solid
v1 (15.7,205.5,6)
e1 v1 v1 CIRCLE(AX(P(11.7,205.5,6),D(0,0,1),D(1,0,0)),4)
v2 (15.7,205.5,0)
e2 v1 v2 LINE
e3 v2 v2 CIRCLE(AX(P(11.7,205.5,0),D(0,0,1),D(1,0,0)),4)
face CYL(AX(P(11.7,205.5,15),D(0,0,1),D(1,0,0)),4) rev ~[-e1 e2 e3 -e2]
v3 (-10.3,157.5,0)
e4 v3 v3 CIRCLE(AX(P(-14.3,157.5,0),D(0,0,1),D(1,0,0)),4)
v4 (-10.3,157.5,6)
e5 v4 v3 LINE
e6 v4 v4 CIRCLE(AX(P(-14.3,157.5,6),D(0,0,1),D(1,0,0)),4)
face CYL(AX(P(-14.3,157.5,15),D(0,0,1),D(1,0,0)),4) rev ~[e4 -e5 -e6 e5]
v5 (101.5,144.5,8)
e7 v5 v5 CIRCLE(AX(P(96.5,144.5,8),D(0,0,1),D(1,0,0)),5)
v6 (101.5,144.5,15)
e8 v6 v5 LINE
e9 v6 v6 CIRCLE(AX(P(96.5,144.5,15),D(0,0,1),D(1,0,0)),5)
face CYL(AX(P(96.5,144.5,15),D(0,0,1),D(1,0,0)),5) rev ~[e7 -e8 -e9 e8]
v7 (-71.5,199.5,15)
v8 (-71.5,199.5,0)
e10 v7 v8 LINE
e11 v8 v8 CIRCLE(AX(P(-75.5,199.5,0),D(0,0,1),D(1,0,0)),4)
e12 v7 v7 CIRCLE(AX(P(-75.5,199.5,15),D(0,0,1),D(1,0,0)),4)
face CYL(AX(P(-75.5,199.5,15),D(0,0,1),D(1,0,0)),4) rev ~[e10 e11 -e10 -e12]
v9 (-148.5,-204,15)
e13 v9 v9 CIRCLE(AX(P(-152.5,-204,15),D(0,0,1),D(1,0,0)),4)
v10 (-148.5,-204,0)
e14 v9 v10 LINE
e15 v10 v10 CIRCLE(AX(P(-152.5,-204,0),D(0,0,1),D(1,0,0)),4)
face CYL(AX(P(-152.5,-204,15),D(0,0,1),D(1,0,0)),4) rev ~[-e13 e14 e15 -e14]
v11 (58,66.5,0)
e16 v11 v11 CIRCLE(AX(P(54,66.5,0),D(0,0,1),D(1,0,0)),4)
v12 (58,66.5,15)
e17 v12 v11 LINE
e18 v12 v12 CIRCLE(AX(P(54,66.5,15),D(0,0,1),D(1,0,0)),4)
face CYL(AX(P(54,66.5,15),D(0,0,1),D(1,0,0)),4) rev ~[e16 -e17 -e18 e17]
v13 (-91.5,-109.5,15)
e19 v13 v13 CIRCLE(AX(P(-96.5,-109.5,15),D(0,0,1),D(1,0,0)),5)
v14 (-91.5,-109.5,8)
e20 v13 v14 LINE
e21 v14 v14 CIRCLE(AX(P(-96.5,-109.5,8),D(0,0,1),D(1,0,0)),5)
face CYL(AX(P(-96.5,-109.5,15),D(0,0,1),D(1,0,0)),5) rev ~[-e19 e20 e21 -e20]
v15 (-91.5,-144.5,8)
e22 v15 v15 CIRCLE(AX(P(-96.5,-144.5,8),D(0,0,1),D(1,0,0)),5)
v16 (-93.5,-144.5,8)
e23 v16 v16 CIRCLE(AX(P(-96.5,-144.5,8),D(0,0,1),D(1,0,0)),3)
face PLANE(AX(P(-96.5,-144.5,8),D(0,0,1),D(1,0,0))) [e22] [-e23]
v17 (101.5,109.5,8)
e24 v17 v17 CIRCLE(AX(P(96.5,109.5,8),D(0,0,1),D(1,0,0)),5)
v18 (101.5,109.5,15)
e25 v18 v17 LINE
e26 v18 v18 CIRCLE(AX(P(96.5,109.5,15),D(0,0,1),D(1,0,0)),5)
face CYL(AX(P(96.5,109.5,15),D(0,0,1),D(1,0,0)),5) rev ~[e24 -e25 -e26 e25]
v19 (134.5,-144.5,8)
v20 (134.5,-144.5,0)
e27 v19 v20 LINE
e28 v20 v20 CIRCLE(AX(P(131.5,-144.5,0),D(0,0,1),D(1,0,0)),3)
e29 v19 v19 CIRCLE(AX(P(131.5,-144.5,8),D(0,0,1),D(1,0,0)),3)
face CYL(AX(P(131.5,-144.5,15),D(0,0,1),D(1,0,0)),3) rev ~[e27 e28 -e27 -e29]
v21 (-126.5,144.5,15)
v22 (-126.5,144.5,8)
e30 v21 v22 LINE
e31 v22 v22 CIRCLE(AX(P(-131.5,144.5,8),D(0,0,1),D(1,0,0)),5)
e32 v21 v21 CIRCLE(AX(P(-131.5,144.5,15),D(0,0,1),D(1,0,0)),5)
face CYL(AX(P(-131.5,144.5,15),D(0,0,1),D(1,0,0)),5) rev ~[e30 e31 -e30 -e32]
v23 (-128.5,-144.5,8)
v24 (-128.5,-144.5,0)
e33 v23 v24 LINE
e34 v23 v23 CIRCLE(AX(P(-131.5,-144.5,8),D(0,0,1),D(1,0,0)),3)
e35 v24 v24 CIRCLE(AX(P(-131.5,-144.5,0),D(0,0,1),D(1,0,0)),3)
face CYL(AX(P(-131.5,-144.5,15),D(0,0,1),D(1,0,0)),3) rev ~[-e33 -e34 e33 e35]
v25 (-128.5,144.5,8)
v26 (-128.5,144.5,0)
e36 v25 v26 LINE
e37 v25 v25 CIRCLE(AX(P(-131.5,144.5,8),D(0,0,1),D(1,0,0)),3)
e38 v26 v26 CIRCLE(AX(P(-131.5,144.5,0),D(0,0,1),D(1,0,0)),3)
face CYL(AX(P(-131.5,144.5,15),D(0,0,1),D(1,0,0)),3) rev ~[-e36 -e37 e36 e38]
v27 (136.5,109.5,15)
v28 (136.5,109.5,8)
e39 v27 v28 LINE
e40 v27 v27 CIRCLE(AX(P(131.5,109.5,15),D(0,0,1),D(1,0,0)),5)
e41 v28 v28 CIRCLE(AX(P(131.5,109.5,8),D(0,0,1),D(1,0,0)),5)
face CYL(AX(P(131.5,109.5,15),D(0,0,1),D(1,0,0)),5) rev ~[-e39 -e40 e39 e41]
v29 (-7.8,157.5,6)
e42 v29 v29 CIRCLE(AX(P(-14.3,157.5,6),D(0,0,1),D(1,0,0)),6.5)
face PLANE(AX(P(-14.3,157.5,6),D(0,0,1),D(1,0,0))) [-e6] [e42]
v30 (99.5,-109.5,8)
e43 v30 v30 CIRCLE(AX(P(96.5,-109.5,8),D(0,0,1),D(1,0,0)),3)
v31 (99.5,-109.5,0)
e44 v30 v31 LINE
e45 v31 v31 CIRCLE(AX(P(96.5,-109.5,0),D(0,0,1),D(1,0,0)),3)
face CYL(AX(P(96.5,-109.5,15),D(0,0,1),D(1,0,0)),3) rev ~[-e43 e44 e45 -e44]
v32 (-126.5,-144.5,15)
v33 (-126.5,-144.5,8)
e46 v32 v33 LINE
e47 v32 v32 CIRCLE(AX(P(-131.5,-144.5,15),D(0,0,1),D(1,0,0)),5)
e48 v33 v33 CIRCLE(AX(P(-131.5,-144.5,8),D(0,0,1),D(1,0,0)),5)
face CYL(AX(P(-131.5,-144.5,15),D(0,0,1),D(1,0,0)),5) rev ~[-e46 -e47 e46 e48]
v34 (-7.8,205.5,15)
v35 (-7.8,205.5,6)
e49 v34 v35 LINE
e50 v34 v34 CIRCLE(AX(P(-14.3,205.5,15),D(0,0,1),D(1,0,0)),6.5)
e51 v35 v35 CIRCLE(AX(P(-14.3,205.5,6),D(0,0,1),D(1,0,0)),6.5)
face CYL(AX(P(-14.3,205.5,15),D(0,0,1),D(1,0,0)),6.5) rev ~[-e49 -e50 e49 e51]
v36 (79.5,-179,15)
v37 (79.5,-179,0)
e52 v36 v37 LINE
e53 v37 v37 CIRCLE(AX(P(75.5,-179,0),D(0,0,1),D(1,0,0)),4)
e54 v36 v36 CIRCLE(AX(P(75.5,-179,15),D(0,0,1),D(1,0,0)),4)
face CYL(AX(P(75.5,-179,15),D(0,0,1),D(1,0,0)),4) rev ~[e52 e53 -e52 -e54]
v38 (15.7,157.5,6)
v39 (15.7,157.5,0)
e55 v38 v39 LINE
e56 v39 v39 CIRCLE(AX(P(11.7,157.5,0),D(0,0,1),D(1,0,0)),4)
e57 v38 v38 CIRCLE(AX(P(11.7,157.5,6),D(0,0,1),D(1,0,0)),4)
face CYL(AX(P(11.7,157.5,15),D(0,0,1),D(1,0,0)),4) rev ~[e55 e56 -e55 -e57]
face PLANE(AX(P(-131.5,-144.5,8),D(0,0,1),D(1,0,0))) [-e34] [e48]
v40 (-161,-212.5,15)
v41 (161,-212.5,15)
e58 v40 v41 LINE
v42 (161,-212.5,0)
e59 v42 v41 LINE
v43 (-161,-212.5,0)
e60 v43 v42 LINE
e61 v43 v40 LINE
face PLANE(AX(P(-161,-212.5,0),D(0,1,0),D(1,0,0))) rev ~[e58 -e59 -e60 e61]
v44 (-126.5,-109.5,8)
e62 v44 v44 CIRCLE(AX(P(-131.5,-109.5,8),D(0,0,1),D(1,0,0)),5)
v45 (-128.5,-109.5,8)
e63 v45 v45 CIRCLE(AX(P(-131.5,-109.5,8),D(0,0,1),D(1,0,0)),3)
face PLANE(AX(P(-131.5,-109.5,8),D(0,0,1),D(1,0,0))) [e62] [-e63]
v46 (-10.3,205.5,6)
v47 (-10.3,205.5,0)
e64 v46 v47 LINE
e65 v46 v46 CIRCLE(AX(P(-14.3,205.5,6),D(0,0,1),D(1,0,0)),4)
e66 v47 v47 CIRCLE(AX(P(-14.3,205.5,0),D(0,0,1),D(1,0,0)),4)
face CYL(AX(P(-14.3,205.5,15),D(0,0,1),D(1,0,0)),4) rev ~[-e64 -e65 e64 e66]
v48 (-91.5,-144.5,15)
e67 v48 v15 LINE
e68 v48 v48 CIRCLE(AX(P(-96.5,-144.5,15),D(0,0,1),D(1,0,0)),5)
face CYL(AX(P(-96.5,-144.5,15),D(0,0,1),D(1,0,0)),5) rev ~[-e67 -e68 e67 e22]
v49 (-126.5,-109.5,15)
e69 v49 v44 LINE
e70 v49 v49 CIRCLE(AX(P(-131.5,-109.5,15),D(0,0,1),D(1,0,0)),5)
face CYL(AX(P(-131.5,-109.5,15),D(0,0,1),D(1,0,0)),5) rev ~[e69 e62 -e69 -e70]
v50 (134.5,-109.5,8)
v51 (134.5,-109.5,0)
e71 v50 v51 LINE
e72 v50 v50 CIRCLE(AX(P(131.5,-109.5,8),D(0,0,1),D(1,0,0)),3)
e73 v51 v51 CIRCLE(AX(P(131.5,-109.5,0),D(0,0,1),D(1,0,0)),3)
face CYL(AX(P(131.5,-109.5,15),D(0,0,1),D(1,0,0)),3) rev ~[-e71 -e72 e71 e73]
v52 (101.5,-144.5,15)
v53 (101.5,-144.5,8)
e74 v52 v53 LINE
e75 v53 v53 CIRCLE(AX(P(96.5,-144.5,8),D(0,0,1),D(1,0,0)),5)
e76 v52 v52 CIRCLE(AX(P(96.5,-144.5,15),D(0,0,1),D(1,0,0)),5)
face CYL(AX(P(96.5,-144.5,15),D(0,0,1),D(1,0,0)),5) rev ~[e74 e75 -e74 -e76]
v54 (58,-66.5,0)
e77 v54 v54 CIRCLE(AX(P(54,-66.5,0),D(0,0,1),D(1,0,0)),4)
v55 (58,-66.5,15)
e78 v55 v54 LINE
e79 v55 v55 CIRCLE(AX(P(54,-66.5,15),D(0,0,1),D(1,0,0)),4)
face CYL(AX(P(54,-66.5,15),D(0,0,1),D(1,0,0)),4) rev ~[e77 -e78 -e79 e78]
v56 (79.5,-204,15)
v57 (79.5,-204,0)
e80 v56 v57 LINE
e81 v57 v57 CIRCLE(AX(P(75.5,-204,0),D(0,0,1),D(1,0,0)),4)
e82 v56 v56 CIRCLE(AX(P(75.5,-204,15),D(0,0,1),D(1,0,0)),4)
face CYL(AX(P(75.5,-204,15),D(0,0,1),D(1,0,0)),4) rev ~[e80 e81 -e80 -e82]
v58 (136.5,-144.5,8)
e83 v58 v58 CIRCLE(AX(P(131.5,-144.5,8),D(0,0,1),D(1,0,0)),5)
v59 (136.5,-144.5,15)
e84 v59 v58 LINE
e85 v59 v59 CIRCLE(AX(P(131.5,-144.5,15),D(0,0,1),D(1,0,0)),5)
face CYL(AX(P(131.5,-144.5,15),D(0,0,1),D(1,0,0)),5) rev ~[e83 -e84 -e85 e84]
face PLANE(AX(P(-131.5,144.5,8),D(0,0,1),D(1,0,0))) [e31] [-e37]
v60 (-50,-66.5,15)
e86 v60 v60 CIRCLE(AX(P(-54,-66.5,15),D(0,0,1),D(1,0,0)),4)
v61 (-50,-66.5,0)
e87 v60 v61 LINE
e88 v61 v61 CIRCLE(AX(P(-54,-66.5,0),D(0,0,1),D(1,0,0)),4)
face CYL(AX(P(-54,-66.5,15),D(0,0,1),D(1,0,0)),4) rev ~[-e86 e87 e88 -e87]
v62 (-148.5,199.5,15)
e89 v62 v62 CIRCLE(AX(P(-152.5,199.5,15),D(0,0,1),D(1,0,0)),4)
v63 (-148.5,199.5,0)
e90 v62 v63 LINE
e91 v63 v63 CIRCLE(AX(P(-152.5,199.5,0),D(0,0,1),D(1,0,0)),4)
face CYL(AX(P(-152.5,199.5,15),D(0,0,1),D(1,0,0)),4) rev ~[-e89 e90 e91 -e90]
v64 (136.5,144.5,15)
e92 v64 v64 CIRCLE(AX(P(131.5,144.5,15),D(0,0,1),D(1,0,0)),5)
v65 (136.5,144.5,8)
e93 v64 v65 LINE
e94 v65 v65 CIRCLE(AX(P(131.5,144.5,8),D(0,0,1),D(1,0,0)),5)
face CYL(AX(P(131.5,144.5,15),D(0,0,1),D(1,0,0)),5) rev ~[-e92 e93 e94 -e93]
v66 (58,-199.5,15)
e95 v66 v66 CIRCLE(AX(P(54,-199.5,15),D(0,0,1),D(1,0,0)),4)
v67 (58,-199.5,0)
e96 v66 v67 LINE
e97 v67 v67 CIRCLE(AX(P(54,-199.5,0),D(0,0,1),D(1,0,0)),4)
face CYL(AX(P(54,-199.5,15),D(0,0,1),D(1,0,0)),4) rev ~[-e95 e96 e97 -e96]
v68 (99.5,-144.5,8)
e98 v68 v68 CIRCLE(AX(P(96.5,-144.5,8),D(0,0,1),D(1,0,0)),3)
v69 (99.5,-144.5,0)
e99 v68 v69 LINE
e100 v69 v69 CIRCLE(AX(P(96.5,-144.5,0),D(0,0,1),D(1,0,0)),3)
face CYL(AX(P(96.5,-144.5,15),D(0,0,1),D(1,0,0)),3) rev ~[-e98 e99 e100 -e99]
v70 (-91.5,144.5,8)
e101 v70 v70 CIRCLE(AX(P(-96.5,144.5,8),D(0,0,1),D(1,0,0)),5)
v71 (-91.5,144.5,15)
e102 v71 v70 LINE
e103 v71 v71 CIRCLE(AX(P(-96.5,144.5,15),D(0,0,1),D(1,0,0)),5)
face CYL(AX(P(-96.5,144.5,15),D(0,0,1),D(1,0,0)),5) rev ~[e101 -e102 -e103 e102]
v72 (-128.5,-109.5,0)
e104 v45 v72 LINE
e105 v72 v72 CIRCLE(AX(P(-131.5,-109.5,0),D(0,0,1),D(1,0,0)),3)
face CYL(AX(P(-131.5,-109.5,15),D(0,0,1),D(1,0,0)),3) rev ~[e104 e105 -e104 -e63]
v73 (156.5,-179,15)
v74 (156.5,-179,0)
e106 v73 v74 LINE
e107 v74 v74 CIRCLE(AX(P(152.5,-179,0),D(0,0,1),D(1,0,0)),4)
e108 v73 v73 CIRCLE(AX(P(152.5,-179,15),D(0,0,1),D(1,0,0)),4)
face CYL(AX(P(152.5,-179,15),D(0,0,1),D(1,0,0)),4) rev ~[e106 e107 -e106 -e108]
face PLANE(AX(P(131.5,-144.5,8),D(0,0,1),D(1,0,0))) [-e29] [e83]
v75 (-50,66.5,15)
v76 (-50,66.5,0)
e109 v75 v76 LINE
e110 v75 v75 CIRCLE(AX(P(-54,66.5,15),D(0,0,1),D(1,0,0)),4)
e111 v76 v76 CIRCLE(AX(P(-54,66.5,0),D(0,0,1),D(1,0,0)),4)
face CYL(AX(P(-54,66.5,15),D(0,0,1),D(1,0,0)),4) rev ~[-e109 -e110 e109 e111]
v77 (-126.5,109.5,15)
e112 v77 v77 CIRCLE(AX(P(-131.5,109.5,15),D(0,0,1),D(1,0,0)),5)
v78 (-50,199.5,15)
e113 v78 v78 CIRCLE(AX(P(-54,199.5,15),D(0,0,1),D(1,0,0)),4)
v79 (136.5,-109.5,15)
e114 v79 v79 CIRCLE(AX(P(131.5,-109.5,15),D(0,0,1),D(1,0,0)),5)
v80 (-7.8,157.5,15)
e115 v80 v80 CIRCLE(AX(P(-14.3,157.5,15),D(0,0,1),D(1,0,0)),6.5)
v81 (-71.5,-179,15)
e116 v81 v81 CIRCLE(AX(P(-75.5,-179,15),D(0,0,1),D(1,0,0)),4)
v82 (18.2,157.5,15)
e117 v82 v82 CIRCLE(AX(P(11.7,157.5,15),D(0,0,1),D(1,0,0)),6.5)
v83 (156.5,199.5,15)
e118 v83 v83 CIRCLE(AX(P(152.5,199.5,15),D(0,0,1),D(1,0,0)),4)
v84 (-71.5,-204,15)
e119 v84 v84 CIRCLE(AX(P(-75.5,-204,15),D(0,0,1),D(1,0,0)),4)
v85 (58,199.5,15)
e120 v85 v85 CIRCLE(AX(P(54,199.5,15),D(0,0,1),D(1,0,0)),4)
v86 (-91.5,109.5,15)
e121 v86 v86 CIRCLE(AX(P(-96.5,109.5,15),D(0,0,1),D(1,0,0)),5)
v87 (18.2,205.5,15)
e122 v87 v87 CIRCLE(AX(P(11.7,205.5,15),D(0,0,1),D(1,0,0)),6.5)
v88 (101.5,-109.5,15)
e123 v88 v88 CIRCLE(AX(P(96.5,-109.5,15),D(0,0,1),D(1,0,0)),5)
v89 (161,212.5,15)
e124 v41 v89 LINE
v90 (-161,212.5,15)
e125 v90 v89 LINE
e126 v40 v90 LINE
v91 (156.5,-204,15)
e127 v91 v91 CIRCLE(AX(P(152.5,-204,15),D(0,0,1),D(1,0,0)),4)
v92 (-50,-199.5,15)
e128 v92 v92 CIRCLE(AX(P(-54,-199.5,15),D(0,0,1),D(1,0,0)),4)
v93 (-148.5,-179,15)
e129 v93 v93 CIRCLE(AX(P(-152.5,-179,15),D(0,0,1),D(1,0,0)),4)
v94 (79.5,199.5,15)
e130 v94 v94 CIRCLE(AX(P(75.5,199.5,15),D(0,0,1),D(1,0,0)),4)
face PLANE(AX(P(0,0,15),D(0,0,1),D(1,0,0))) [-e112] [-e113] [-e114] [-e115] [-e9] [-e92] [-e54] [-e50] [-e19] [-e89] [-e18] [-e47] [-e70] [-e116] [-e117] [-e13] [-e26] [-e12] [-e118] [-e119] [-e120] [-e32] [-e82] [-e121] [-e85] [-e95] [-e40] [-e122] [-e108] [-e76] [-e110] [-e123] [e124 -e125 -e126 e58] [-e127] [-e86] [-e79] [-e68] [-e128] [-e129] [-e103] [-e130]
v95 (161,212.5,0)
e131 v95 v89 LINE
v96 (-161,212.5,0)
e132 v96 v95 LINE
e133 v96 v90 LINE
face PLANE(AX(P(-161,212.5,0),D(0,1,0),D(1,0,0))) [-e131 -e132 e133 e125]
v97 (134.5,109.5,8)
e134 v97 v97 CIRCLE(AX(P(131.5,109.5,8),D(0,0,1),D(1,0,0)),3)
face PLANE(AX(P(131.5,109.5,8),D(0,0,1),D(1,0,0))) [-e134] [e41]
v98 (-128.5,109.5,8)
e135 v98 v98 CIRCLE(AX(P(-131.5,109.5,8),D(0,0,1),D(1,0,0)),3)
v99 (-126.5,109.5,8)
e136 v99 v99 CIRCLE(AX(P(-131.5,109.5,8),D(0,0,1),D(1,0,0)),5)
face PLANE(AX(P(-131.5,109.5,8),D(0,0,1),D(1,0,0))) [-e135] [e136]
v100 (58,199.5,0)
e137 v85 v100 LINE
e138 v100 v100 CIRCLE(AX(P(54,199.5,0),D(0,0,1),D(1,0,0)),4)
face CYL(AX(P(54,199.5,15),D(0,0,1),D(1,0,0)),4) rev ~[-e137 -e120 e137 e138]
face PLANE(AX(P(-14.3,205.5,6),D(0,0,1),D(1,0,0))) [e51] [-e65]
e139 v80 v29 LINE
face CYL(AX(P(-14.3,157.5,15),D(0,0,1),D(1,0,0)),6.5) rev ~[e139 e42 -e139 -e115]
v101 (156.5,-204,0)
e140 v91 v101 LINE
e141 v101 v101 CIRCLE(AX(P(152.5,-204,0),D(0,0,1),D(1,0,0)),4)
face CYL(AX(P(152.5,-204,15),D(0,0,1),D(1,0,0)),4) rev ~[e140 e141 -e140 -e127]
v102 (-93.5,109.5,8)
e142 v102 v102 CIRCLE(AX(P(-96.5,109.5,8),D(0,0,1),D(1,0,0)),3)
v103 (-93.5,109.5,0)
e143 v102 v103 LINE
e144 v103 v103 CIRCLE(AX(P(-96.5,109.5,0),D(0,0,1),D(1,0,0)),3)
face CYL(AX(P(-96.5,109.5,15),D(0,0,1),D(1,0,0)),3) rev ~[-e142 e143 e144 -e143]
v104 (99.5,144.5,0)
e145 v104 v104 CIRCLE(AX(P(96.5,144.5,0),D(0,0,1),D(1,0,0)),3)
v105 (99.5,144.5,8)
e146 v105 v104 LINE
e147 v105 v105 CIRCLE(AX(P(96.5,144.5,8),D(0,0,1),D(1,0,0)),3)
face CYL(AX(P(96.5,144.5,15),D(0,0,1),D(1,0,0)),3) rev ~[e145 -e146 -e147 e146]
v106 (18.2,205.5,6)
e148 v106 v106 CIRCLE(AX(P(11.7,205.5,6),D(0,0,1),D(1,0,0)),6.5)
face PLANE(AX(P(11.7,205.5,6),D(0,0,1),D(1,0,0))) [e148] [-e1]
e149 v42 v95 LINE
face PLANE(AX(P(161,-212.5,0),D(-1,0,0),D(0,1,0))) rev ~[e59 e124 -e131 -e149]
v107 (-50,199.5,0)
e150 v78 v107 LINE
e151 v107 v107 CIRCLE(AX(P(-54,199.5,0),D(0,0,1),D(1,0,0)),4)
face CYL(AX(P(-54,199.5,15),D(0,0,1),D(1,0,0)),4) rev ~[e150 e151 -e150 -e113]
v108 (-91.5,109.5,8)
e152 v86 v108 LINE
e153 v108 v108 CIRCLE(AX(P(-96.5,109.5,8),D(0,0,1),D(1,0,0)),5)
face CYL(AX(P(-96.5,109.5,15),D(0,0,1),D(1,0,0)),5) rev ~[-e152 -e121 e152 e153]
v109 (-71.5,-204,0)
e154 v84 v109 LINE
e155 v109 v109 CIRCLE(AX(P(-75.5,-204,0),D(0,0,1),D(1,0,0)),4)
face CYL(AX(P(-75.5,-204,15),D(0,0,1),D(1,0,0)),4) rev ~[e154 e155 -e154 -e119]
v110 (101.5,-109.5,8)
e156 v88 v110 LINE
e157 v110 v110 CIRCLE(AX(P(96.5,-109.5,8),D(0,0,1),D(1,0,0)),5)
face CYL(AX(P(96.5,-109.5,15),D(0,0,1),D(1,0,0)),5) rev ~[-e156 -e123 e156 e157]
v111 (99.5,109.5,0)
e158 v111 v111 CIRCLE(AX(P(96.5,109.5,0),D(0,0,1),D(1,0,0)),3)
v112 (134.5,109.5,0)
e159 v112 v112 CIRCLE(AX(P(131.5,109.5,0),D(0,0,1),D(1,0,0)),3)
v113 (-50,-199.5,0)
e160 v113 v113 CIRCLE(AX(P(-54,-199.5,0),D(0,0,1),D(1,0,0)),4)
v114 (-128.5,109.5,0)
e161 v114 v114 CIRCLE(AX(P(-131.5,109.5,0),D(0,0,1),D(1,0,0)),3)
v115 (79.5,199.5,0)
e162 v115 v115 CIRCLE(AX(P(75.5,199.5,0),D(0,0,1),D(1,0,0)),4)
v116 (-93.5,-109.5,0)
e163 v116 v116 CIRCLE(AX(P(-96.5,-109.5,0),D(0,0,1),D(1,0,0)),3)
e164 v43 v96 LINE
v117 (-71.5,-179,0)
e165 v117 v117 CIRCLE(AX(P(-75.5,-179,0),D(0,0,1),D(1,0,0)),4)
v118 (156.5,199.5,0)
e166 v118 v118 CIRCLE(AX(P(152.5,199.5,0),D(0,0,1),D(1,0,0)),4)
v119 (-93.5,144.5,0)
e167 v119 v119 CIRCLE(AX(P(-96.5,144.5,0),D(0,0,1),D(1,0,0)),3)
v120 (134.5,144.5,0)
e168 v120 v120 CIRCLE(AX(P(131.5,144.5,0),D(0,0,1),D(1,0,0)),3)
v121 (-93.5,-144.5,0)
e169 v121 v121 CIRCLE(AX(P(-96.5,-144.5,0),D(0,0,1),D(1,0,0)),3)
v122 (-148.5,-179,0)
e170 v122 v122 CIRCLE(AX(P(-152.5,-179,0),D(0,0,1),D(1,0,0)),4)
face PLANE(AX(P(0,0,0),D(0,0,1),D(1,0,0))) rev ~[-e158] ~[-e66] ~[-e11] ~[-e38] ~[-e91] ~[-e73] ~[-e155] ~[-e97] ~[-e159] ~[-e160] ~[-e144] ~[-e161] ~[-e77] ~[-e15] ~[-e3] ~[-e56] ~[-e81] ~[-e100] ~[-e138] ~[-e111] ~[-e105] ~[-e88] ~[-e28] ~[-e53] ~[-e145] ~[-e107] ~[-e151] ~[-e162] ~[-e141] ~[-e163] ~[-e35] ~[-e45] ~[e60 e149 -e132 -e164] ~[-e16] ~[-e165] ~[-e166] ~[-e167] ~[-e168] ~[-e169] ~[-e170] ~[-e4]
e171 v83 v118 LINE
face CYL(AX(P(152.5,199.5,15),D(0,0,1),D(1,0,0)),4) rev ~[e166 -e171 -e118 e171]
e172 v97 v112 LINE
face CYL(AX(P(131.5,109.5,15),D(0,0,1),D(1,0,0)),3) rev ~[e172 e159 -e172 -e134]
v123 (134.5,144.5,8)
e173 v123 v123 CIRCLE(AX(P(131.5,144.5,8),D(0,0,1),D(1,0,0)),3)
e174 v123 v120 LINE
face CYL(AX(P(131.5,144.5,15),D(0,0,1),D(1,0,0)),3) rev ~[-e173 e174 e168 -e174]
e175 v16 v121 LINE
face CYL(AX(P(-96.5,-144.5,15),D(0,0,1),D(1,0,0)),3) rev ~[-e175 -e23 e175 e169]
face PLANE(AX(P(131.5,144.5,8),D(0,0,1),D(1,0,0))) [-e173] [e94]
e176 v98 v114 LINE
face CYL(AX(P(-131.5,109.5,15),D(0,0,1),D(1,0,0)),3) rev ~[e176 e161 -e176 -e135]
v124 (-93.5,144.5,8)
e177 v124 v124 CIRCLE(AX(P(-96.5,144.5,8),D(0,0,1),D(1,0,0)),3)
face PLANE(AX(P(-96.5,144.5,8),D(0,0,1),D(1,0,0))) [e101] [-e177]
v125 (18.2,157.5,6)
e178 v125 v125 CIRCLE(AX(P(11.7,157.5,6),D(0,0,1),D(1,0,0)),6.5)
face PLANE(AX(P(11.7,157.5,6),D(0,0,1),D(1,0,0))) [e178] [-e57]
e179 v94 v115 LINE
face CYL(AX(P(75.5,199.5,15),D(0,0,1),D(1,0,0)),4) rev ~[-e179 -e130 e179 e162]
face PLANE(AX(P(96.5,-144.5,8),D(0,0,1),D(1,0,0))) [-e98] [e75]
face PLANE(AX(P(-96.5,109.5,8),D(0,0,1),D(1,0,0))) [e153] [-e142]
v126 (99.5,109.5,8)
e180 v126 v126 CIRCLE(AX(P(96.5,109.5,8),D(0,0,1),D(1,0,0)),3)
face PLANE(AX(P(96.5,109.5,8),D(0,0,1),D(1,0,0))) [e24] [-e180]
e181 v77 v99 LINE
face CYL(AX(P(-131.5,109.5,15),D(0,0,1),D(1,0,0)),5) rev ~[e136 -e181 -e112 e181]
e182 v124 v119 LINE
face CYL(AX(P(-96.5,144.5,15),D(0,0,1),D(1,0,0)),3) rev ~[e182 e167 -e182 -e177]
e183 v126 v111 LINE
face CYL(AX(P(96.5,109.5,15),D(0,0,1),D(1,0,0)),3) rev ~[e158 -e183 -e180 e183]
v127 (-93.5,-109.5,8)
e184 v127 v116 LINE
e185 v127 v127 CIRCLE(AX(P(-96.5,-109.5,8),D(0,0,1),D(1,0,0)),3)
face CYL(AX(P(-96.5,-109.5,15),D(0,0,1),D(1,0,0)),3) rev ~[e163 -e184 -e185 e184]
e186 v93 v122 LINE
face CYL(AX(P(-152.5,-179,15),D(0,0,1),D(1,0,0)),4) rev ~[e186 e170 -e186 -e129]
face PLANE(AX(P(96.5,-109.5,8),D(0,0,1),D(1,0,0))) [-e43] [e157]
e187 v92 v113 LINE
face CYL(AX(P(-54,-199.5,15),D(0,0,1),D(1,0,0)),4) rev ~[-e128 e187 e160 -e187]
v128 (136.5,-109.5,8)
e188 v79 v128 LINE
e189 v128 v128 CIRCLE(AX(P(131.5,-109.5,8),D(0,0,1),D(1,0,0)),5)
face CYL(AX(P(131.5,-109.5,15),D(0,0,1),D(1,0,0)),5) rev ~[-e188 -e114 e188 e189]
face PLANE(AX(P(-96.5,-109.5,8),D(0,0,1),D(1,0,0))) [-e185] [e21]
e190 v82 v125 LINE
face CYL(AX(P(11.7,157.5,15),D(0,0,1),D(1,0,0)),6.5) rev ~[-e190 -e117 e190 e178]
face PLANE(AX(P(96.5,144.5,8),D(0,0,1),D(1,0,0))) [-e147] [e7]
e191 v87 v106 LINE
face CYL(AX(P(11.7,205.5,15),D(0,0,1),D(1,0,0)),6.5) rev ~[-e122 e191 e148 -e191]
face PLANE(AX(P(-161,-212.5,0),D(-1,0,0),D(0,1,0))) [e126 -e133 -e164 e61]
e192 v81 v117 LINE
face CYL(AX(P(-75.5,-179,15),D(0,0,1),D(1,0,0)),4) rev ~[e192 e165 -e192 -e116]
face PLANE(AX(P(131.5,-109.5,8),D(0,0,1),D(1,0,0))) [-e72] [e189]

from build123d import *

# Parameters (mm, degrees)
SZKIC1_W                       = 322
SZKIC1_H                       = 425
DODANIE_WYCI_GNI_CIE1_DEPTH    = 15
SZKIC2_R                       = 3
WYTNIJ_WYCI_GNI_CIE1_DEPTH     = 15
SZKIC3_R                       = 5
WYTNIJ_WYCI_GNI_CIE2_DEPTH     = 7
SZYK_LINIOWY1_COUNT            = 2
SZYK_LINIOWY1_PITCH            = 35
SZYK_LINIOWY1_COUNT_DIR2       = 2
SZYK_LINIOWY1_PITCH_DIR2       = 35
SZYK_LINIOWY2_COUNT            = 2
SZYK_LINIOWY2_PITCH            = 228
SZYK_LINIOWY2_COUNT_DIR2       = 2
SZYK_LINIOWY2_PITCH_DIR2       = 254
SZYK_LINIOWY2_COPY_1_SKETCH_R  = 3
SZYK_LINIOWY2_COPY_1_DEPTH     = 15
SZYK_LINIOWY2_COPY_2_SKETCH_R  = 3
SZYK_LINIOWY2_COPY_2_DEPTH     = 15
SZYK_LINIOWY2_COPY_3_SKETCH_R  = 3
SZYK_LINIOWY2_COPY_3_DEPTH     = 15
SZYK_LINIOWY2_COPY_4_SKETCH_R  = 3
SZYK_LINIOWY2_COPY_4_DEPTH     = 15
SZYK_LINIOWY2_COPY_5_SKETCH_R  = 3
SZYK_LINIOWY2_COPY_5_DEPTH     = 15
SZYK_LINIOWY2_COPY_6_SKETCH_R  = 3
SZYK_LINIOWY2_COPY_6_DEPTH     = 15
SZYK_LINIOWY2_COPY_7_SKETCH_R  = 3
SZYK_LINIOWY2_COPY_7_DEPTH     = 15
SZYK_LINIOWY2_COPY_8_SKETCH_R  = 3
SZYK_LINIOWY2_COPY_8_DEPTH     = 15
SZYK_LINIOWY2_COPY_9_SKETCH_R  = 3
SZYK_LINIOWY2_COPY_9_DEPTH     = 15
SZYK_LINIOWY2_COPY_10_SKETCH_R = 5
SZYK_LINIOWY2_COPY_10_DEPTH    = 7
SZYK_LINIOWY2_COPY_11_SKETCH_R = 5
SZYK_LINIOWY2_COPY_11_DEPTH    = 7
SZYK_LINIOWY2_COPY_12_SKETCH_R = 5
SZYK_LINIOWY2_COPY_12_DEPTH    = 7
SZYK_LINIOWY2_COPY_13_SKETCH_R = 5
SZYK_LINIOWY2_COPY_13_DEPTH    = 7
SZYK_LINIOWY2_COPY_14_SKETCH_R = 5
SZYK_LINIOWY2_COPY_14_DEPTH    = 7
SZYK_LINIOWY2_COPY_15_SKETCH_R = 5
SZYK_LINIOWY2_COPY_15_DEPTH    = 7
SZYK_LINIOWY2_COPY_16_SKETCH_R = 5
SZYK_LINIOWY2_COPY_16_DEPTH    = 7
SZYK_LINIOWY2_COPY_17_SKETCH_R = 5
SZYK_LINIOWY2_COPY_17_DEPTH    = 7
SZYK_LINIOWY2_COPY_18_SKETCH_R = 5
SZYK_LINIOWY2_COPY_18_DEPTH    = 7
SZKIC6_R                       = 4
WYTNIJ_WYCI_GNI_CIE3_DEPTH     = 20
SZKIC7_R                       = 4
WYTNIJ_WYCI_GNI_CIE4_DEPTH     = 20
SZKIC10_R                      = 4
WYTNIJ_WYCI_GNI_CIE5_DEPTH     = 21
SZKIC11_R                      = 4
WYTNIJ_WYCI_GNI_CIE6_DEPTH     = 21
SZKIC12_R                      = 3.999999999
WYTNIJ_WYCI_GNI_CIE7_DEPTH     = 15
SZKIC13_R                      = 6.499999999
WYTNIJ_WYCI_GNI_CIE8_DEPTH     = 9
SZKIC14_R                      = 4
WYTNIJ_WYCI_GNI_CIE9_DEPTH     = 15
SZYK_LINIOWY3_COUNT            = 4
SZYK_LINIOWY3_PITCH            = 133


with BuildPart() as part:
    # Szkic1 → Dodanie-wyciągnięcie1 (new body)
    with BuildSketch(Plane.XY):
        Rectangle(SZKIC1_W, SZKIC1_H)
    extrude(amount=DODANIE_WYCI_GNI_CIE1_DEPTH)

    # Szkic2 → Wytnij-wyciągnięcie1 (cut)
    with BuildSketch(Plane.XY.offset(15)):
        with Locations((-131.5, 144.5)):
            Circle(SZKIC2_R)
    wytnij_wyci_gni_cie1 = extrude(amount=-WYTNIJ_WYCI_GNI_CIE1_DEPTH, mode=Mode.SUBTRACT)

    # Szkic3 → Wytnij-wyciągnięcie2 (cut)
    with BuildSketch(Plane.XY.offset(15)):
        with Locations((-131.5, 144.5)):
            Circle(SZKIC3_R)
    wytnij_wyci_gni_cie2 = extrude(amount=-WYTNIJ_WYCI_GNI_CIE2_DEPTH, mode=Mode.SUBTRACT)

    # Szyk liniowy1: Wytnij-wyciągnięcie1, Wytnij-wyci_gni_cie2 2 × 2
    with Locations(*[(i * SZYK_LINIOWY1_PITCH, -j * SZYK_LINIOWY1_PITCH_DIR2, 0) for i in range(SZYK_LINIOWY1_COUNT) for j in range(SZYK_LINIOWY1_COUNT_DIR2) if (i, j) != (0, 0)]):
        add(wytnij_wyci_gni_cie1, mode=Mode.SUBTRACT)
        add(wytnij_wyci_gni_cie2, mode=Mode.SUBTRACT)

    # Szyk liniowy2: Wytnij-wyciągnięcie1, Wytnij-wyci_gni_cie2 2 × 2
    with Locations(*[(i * SZYK_LINIOWY2_PITCH, -j * SZYK_LINIOWY2_PITCH_DIR2, 0) for i in range(SZYK_LINIOWY2_COUNT) for j in range(SZYK_LINIOWY2_COUNT_DIR2) if (i, j) != (0, 0)]):
        add(wytnij_wyci_gni_cie1, mode=Mode.SUBTRACT)
        add(wytnij_wyci_gni_cie2, mode=Mode.SUBTRACT)

    # Szyk liniowy2 copy 1 sketch → Szyk liniowy2 copy 1 (cut)
    with BuildSketch(Plane(origin=(0, -289, 15), x_dir=(1, 0, 0), z_dir=(0, 0, 1))):
        with Locations((-131.5, 144.5)):
            Circle(SZYK_LINIOWY2_COPY_1_SKETCH_R)
    extrude(amount=-SZYK_LINIOWY2_COPY_1_DEPTH, mode=Mode.SUBTRACT)

    # Szyk liniowy2 copy 2 sketch → Szyk liniowy2 copy 2 (cut)
    with BuildSketch(Plane(origin=(228, -35, 15), x_dir=(1, 0, 0), z_dir=(0, 0, 1))):
        with Locations((-131.5, 144.5)):
            Circle(SZYK_LINIOWY2_COPY_2_SKETCH_R)
    extrude(amount=-SZYK_LINIOWY2_COPY_2_DEPTH, mode=Mode.SUBTRACT)

    # Szyk liniowy2 copy 3 sketch → Szyk liniowy2 copy 3 (cut)
    with BuildSketch(Plane(origin=(228, -289, 15), x_dir=(1, 0, 0), z_dir=(0, 0, 1))):
        with Locations((-131.5, 144.5)):
            Circle(SZYK_LINIOWY2_COPY_3_SKETCH_R)
    extrude(amount=-SZYK_LINIOWY2_COPY_3_DEPTH, mode=Mode.SUBTRACT)

    # Szyk liniowy2 copy 4 sketch → Szyk liniowy2 copy 4 (cut)
    with BuildSketch(Plane(origin=(35, -254, 15), x_dir=(1, 0, 0), z_dir=(0, 0, 1))):
        with Locations((-131.5, 144.5)):
            Circle(SZYK_LINIOWY2_COPY_4_SKETCH_R)
    extrude(amount=-SZYK_LINIOWY2_COPY_4_DEPTH, mode=Mode.SUBTRACT)

    # Szyk liniowy2 copy 5 sketch → Szyk liniowy2 copy 5 (cut)
    with BuildSketch(Plane(origin=(263, 0, 15), x_dir=(1, 0, 0), z_dir=(0, 0, 1))):
        with Locations((-131.5, 144.5)):
            Circle(SZYK_LINIOWY2_COPY_5_SKETCH_R)
    extrude(amount=-SZYK_LINIOWY2_COPY_5_DEPTH, mode=Mode.SUBTRACT)

    # Szyk liniowy2 copy 6 sketch → Szyk liniowy2 copy 6 (cut)
    with BuildSketch(Plane(origin=(263, -254, 15), x_dir=(1, 0, 0), z_dir=(0, 0, 1))):
        with Locations((-131.5, 144.5)):
            Circle(SZYK_LINIOWY2_COPY_6_SKETCH_R)
    extrude(amount=-SZYK_LINIOWY2_COPY_6_DEPTH, mode=Mode.SUBTRACT)

    # Szyk liniowy2 copy 7 sketch → Szyk liniowy2 copy 7 (cut)
    with BuildSketch(Plane(origin=(35, -289, 15), x_dir=(1, 0, 0), z_dir=(0, 0, 1))):
        with Locations((-131.5, 144.5)):
            Circle(SZYK_LINIOWY2_COPY_7_SKETCH_R)
    extrude(amount=-SZYK_LINIOWY2_COPY_7_DEPTH, mode=Mode.SUBTRACT)

    # Szyk liniowy2 copy 8 sketch → Szyk liniowy2 copy 8 (cut)
    with BuildSketch(Plane(origin=(263, -35, 15), x_dir=(1, 0, 0), z_dir=(0, 0, 1))):
        with Locations((-131.5, 144.5)):
            Circle(SZYK_LINIOWY2_COPY_8_SKETCH_R)
    extrude(amount=-SZYK_LINIOWY2_COPY_8_DEPTH, mode=Mode.SUBTRACT)

    # Szyk liniowy2 copy 9 sketch → Szyk liniowy2 copy 9 (cut)
    with BuildSketch(Plane(origin=(263, -289, 15), x_dir=(1, 0, 0), z_dir=(0, 0, 1))):
        with Locations((-131.5, 144.5)):
            Circle(SZYK_LINIOWY2_COPY_9_SKETCH_R)
    extrude(amount=-SZYK_LINIOWY2_COPY_9_DEPTH, mode=Mode.SUBTRACT)

    # Szyk liniowy2 copy 10 sketch → Szyk liniowy2 copy 10 (cut)
    with BuildSketch(Plane(origin=(0, -289, 15), x_dir=(1, 0, 0), z_dir=(0, 0, 1))):
        with Locations((-131.5, 144.5)):
            Circle(SZYK_LINIOWY2_COPY_10_SKETCH_R)
    extrude(amount=-SZYK_LINIOWY2_COPY_10_DEPTH, mode=Mode.SUBTRACT)

    # Szyk liniowy2 copy 11 sketch → Szyk liniowy2 copy 11 (cut)
    with BuildSketch(Plane(origin=(228, -35, 15), x_dir=(1, 0, 0), z_dir=(0, 0, 1))):
        with Locations((-131.5, 144.5)):
            Circle(SZYK_LINIOWY2_COPY_11_SKETCH_R)
    extrude(amount=-SZYK_LINIOWY2_COPY_11_DEPTH, mode=Mode.SUBTRACT)

    # Szyk liniowy2 copy 12 sketch → Szyk liniowy2 copy 12 (cut)
    with BuildSketch(Plane(origin=(228, -289, 15), x_dir=(1, 0, 0), z_dir=(0, 0, 1))):
        with Locations((-131.5, 144.5)):
            Circle(SZYK_LINIOWY2_COPY_12_SKETCH_R)
    extrude(amount=-SZYK_LINIOWY2_COPY_12_DEPTH, mode=Mode.SUBTRACT)

    # Szyk liniowy2 copy 13 sketch → Szyk liniowy2 copy 13 (cut)
    with BuildSketch(Plane(origin=(35, -254, 15), x_dir=(1, 0, 0), z_dir=(0, 0, 1))):
        with Locations((-131.5, 144.5)):
            Circle(SZYK_LINIOWY2_COPY_13_SKETCH_R)
    extrude(amount=-SZYK_LINIOWY2_COPY_13_DEPTH, mode=Mode.SUBTRACT)

    # Szyk liniowy2 copy 14 sketch → Szyk liniowy2 copy 14 (cut)
    with BuildSketch(Plane(origin=(263, 0, 15), x_dir=(1, 0, 0), z_dir=(0, 0, 1))):
        with Locations((-131.5, 144.5)):
            Circle(SZYK_LINIOWY2_COPY_14_SKETCH_R)
    extrude(amount=-SZYK_LINIOWY2_COPY_14_DEPTH, mode=Mode.SUBTRACT)

    # Szyk liniowy2 copy 15 sketch → Szyk liniowy2 copy 15 (cut)
    with BuildSketch(Plane(origin=(263, -254, 15), x_dir=(1, 0, 0), z_dir=(0, 0, 1))):
        with Locations((-131.5, 144.5)):
            Circle(SZYK_LINIOWY2_COPY_15_SKETCH_R)
    extrude(amount=-SZYK_LINIOWY2_COPY_15_DEPTH, mode=Mode.SUBTRACT)

    # Szyk liniowy2 copy 16 sketch → Szyk liniowy2 copy 16 (cut)
    with BuildSketch(Plane(origin=(35, -289, 15), x_dir=(1, 0, 0), z_dir=(0, 0, 1))):
        with Locations((-131.5, 144.5)):
            Circle(SZYK_LINIOWY2_COPY_16_SKETCH_R)
    extrude(amount=-SZYK_LINIOWY2_COPY_16_DEPTH, mode=Mode.SUBTRACT)

    # Szyk liniowy2 copy 17 sketch → Szyk liniowy2 copy 17 (cut)
    with BuildSketch(Plane(origin=(263, -35, 15), x_dir=(1, 0, 0), z_dir=(0, 0, 1))):
        with Locations((-131.5, 144.5)):
            Circle(SZYK_LINIOWY2_COPY_17_SKETCH_R)
    extrude(amount=-SZYK_LINIOWY2_COPY_17_DEPTH, mode=Mode.SUBTRACT)

    # Szyk liniowy2 copy 18 sketch → Szyk liniowy2 copy 18 (cut)
    with BuildSketch(Plane(origin=(263, -289, 15), x_dir=(1, 0, 0), z_dir=(0, 0, 1))):
        with Locations((-131.5, 144.5)):
            Circle(SZYK_LINIOWY2_COPY_18_SKETCH_R)
    extrude(amount=-SZYK_LINIOWY2_COPY_18_DEPTH, mode=Mode.SUBTRACT)

    # Szkic6 → Wytnij-wyciągnięcie3 (cut)
    with BuildSketch(Plane.XY.offset(15)):
        with Locations((-152.5, 199.5)):
            Circle(SZKIC6_R)
        with Locations((-75.5, 199.5)):
            Circle(SZKIC6_R)
    extrude(amount=-WYTNIJ_WYCI_GNI_CIE3_DEPTH, mode=Mode.SUBTRACT)

    # Szkic7 → Wytnij-wyciągnięcie4 (cut)
    with BuildSketch(Plane.XY.offset(15)):
        with Locations((-152.5, -204)):
            Circle(SZKIC7_R)
        with Locations((-152.5, -179)):
            Circle(SZKIC7_R)
        with Locations((-75.5, -204)):
            Circle(SZKIC7_R)
        with Locations((-75.5, -179)):
            Circle(SZKIC7_R)
    extrude(amount=-WYTNIJ_WYCI_GNI_CIE4_DEPTH, mode=Mode.SUBTRACT)

    # Szkic10 → Wytnij-wyciągnięcie5 (cut)
    with BuildSketch(Plane.XY.offset(15)):
        with Locations((75.5, 199.5)):
            Circle(SZKIC10_R)
        with Locations((152.5, 199.5)):
            Circle(SZKIC10_R)
    extrude(amount=-WYTNIJ_WYCI_GNI_CIE5_DEPTH, mode=Mode.SUBTRACT)

    # Szkic11 → Wytnij-wyciągnięcie6 (cut)
    with BuildSketch(Plane.XY.offset(15)):
        with Locations((152.5, -179)):
            Circle(SZKIC11_R)
        with Locations((152.5, -204)):
            Circle(SZKIC11_R)
        with Locations((75.5, -204)):
            Circle(SZKIC11_R)
        with Locations((75.5, -179)):
            Circle(SZKIC11_R)
    extrude(amount=-WYTNIJ_WYCI_GNI_CIE6_DEPTH, mode=Mode.SUBTRACT)

    # Szkic12 → Wytnij-wyciągnięcie7 (cut)
    with BuildSketch(Plane.XY.offset(15)):
        with Locations((-14.3, 205.5)):
            Circle(SZKIC12_R)
        with Locations((11.7, 205.5)):
            Circle(SZKIC12_R)
        with Locations((-14.3, 157.5)):
            Circle(SZKIC12_R)
        with Locations((11.7, 157.5)):
            Circle(SZKIC12_R)
    extrude(amount=-WYTNIJ_WYCI_GNI_CIE7_DEPTH, mode=Mode.SUBTRACT)

    # Szkic13 → Wytnij-wyciągnięcie8 (cut)
    with BuildSketch(Plane.XY.offset(15)):
        with Locations((-14.3, 205.5)):
            Circle(SZKIC13_R)
        with Locations((11.7, 205.5)):
            Circle(SZKIC13_R)
        with Locations((11.7, 157.5)):
            Circle(SZKIC13_R)
        with Locations((-14.3, 157.5)):
            Circle(SZKIC13_R)
    extrude(amount=-WYTNIJ_WYCI_GNI_CIE8_DEPTH, mode=Mode.SUBTRACT)

    # Szkic14 → Wytnij-wyciągnięcie9 (cut)
    with BuildSketch(Plane.XY.offset(15)):
        with Locations((-54, 199.5)):
            Circle(SZKIC14_R)
        with Locations((54, 199.5)):
            Circle(SZKIC14_R)
    wytnij_wyci_gni_cie9 = extrude(amount=-WYTNIJ_WYCI_GNI_CIE9_DEPTH, mode=Mode.SUBTRACT)

    # Szyk liniowy3: Wytnij-wyciągnięcie9 ×4
    with Locations(*[(0, -i * SZYK_LINIOWY3_PITCH, 0) for i in range(1, SZYK_LINIOWY3_COUNT)]):
        add(wytnij_wyci_gni_cie9, mode=Mode.SUBTRACT)


solid = part.part
